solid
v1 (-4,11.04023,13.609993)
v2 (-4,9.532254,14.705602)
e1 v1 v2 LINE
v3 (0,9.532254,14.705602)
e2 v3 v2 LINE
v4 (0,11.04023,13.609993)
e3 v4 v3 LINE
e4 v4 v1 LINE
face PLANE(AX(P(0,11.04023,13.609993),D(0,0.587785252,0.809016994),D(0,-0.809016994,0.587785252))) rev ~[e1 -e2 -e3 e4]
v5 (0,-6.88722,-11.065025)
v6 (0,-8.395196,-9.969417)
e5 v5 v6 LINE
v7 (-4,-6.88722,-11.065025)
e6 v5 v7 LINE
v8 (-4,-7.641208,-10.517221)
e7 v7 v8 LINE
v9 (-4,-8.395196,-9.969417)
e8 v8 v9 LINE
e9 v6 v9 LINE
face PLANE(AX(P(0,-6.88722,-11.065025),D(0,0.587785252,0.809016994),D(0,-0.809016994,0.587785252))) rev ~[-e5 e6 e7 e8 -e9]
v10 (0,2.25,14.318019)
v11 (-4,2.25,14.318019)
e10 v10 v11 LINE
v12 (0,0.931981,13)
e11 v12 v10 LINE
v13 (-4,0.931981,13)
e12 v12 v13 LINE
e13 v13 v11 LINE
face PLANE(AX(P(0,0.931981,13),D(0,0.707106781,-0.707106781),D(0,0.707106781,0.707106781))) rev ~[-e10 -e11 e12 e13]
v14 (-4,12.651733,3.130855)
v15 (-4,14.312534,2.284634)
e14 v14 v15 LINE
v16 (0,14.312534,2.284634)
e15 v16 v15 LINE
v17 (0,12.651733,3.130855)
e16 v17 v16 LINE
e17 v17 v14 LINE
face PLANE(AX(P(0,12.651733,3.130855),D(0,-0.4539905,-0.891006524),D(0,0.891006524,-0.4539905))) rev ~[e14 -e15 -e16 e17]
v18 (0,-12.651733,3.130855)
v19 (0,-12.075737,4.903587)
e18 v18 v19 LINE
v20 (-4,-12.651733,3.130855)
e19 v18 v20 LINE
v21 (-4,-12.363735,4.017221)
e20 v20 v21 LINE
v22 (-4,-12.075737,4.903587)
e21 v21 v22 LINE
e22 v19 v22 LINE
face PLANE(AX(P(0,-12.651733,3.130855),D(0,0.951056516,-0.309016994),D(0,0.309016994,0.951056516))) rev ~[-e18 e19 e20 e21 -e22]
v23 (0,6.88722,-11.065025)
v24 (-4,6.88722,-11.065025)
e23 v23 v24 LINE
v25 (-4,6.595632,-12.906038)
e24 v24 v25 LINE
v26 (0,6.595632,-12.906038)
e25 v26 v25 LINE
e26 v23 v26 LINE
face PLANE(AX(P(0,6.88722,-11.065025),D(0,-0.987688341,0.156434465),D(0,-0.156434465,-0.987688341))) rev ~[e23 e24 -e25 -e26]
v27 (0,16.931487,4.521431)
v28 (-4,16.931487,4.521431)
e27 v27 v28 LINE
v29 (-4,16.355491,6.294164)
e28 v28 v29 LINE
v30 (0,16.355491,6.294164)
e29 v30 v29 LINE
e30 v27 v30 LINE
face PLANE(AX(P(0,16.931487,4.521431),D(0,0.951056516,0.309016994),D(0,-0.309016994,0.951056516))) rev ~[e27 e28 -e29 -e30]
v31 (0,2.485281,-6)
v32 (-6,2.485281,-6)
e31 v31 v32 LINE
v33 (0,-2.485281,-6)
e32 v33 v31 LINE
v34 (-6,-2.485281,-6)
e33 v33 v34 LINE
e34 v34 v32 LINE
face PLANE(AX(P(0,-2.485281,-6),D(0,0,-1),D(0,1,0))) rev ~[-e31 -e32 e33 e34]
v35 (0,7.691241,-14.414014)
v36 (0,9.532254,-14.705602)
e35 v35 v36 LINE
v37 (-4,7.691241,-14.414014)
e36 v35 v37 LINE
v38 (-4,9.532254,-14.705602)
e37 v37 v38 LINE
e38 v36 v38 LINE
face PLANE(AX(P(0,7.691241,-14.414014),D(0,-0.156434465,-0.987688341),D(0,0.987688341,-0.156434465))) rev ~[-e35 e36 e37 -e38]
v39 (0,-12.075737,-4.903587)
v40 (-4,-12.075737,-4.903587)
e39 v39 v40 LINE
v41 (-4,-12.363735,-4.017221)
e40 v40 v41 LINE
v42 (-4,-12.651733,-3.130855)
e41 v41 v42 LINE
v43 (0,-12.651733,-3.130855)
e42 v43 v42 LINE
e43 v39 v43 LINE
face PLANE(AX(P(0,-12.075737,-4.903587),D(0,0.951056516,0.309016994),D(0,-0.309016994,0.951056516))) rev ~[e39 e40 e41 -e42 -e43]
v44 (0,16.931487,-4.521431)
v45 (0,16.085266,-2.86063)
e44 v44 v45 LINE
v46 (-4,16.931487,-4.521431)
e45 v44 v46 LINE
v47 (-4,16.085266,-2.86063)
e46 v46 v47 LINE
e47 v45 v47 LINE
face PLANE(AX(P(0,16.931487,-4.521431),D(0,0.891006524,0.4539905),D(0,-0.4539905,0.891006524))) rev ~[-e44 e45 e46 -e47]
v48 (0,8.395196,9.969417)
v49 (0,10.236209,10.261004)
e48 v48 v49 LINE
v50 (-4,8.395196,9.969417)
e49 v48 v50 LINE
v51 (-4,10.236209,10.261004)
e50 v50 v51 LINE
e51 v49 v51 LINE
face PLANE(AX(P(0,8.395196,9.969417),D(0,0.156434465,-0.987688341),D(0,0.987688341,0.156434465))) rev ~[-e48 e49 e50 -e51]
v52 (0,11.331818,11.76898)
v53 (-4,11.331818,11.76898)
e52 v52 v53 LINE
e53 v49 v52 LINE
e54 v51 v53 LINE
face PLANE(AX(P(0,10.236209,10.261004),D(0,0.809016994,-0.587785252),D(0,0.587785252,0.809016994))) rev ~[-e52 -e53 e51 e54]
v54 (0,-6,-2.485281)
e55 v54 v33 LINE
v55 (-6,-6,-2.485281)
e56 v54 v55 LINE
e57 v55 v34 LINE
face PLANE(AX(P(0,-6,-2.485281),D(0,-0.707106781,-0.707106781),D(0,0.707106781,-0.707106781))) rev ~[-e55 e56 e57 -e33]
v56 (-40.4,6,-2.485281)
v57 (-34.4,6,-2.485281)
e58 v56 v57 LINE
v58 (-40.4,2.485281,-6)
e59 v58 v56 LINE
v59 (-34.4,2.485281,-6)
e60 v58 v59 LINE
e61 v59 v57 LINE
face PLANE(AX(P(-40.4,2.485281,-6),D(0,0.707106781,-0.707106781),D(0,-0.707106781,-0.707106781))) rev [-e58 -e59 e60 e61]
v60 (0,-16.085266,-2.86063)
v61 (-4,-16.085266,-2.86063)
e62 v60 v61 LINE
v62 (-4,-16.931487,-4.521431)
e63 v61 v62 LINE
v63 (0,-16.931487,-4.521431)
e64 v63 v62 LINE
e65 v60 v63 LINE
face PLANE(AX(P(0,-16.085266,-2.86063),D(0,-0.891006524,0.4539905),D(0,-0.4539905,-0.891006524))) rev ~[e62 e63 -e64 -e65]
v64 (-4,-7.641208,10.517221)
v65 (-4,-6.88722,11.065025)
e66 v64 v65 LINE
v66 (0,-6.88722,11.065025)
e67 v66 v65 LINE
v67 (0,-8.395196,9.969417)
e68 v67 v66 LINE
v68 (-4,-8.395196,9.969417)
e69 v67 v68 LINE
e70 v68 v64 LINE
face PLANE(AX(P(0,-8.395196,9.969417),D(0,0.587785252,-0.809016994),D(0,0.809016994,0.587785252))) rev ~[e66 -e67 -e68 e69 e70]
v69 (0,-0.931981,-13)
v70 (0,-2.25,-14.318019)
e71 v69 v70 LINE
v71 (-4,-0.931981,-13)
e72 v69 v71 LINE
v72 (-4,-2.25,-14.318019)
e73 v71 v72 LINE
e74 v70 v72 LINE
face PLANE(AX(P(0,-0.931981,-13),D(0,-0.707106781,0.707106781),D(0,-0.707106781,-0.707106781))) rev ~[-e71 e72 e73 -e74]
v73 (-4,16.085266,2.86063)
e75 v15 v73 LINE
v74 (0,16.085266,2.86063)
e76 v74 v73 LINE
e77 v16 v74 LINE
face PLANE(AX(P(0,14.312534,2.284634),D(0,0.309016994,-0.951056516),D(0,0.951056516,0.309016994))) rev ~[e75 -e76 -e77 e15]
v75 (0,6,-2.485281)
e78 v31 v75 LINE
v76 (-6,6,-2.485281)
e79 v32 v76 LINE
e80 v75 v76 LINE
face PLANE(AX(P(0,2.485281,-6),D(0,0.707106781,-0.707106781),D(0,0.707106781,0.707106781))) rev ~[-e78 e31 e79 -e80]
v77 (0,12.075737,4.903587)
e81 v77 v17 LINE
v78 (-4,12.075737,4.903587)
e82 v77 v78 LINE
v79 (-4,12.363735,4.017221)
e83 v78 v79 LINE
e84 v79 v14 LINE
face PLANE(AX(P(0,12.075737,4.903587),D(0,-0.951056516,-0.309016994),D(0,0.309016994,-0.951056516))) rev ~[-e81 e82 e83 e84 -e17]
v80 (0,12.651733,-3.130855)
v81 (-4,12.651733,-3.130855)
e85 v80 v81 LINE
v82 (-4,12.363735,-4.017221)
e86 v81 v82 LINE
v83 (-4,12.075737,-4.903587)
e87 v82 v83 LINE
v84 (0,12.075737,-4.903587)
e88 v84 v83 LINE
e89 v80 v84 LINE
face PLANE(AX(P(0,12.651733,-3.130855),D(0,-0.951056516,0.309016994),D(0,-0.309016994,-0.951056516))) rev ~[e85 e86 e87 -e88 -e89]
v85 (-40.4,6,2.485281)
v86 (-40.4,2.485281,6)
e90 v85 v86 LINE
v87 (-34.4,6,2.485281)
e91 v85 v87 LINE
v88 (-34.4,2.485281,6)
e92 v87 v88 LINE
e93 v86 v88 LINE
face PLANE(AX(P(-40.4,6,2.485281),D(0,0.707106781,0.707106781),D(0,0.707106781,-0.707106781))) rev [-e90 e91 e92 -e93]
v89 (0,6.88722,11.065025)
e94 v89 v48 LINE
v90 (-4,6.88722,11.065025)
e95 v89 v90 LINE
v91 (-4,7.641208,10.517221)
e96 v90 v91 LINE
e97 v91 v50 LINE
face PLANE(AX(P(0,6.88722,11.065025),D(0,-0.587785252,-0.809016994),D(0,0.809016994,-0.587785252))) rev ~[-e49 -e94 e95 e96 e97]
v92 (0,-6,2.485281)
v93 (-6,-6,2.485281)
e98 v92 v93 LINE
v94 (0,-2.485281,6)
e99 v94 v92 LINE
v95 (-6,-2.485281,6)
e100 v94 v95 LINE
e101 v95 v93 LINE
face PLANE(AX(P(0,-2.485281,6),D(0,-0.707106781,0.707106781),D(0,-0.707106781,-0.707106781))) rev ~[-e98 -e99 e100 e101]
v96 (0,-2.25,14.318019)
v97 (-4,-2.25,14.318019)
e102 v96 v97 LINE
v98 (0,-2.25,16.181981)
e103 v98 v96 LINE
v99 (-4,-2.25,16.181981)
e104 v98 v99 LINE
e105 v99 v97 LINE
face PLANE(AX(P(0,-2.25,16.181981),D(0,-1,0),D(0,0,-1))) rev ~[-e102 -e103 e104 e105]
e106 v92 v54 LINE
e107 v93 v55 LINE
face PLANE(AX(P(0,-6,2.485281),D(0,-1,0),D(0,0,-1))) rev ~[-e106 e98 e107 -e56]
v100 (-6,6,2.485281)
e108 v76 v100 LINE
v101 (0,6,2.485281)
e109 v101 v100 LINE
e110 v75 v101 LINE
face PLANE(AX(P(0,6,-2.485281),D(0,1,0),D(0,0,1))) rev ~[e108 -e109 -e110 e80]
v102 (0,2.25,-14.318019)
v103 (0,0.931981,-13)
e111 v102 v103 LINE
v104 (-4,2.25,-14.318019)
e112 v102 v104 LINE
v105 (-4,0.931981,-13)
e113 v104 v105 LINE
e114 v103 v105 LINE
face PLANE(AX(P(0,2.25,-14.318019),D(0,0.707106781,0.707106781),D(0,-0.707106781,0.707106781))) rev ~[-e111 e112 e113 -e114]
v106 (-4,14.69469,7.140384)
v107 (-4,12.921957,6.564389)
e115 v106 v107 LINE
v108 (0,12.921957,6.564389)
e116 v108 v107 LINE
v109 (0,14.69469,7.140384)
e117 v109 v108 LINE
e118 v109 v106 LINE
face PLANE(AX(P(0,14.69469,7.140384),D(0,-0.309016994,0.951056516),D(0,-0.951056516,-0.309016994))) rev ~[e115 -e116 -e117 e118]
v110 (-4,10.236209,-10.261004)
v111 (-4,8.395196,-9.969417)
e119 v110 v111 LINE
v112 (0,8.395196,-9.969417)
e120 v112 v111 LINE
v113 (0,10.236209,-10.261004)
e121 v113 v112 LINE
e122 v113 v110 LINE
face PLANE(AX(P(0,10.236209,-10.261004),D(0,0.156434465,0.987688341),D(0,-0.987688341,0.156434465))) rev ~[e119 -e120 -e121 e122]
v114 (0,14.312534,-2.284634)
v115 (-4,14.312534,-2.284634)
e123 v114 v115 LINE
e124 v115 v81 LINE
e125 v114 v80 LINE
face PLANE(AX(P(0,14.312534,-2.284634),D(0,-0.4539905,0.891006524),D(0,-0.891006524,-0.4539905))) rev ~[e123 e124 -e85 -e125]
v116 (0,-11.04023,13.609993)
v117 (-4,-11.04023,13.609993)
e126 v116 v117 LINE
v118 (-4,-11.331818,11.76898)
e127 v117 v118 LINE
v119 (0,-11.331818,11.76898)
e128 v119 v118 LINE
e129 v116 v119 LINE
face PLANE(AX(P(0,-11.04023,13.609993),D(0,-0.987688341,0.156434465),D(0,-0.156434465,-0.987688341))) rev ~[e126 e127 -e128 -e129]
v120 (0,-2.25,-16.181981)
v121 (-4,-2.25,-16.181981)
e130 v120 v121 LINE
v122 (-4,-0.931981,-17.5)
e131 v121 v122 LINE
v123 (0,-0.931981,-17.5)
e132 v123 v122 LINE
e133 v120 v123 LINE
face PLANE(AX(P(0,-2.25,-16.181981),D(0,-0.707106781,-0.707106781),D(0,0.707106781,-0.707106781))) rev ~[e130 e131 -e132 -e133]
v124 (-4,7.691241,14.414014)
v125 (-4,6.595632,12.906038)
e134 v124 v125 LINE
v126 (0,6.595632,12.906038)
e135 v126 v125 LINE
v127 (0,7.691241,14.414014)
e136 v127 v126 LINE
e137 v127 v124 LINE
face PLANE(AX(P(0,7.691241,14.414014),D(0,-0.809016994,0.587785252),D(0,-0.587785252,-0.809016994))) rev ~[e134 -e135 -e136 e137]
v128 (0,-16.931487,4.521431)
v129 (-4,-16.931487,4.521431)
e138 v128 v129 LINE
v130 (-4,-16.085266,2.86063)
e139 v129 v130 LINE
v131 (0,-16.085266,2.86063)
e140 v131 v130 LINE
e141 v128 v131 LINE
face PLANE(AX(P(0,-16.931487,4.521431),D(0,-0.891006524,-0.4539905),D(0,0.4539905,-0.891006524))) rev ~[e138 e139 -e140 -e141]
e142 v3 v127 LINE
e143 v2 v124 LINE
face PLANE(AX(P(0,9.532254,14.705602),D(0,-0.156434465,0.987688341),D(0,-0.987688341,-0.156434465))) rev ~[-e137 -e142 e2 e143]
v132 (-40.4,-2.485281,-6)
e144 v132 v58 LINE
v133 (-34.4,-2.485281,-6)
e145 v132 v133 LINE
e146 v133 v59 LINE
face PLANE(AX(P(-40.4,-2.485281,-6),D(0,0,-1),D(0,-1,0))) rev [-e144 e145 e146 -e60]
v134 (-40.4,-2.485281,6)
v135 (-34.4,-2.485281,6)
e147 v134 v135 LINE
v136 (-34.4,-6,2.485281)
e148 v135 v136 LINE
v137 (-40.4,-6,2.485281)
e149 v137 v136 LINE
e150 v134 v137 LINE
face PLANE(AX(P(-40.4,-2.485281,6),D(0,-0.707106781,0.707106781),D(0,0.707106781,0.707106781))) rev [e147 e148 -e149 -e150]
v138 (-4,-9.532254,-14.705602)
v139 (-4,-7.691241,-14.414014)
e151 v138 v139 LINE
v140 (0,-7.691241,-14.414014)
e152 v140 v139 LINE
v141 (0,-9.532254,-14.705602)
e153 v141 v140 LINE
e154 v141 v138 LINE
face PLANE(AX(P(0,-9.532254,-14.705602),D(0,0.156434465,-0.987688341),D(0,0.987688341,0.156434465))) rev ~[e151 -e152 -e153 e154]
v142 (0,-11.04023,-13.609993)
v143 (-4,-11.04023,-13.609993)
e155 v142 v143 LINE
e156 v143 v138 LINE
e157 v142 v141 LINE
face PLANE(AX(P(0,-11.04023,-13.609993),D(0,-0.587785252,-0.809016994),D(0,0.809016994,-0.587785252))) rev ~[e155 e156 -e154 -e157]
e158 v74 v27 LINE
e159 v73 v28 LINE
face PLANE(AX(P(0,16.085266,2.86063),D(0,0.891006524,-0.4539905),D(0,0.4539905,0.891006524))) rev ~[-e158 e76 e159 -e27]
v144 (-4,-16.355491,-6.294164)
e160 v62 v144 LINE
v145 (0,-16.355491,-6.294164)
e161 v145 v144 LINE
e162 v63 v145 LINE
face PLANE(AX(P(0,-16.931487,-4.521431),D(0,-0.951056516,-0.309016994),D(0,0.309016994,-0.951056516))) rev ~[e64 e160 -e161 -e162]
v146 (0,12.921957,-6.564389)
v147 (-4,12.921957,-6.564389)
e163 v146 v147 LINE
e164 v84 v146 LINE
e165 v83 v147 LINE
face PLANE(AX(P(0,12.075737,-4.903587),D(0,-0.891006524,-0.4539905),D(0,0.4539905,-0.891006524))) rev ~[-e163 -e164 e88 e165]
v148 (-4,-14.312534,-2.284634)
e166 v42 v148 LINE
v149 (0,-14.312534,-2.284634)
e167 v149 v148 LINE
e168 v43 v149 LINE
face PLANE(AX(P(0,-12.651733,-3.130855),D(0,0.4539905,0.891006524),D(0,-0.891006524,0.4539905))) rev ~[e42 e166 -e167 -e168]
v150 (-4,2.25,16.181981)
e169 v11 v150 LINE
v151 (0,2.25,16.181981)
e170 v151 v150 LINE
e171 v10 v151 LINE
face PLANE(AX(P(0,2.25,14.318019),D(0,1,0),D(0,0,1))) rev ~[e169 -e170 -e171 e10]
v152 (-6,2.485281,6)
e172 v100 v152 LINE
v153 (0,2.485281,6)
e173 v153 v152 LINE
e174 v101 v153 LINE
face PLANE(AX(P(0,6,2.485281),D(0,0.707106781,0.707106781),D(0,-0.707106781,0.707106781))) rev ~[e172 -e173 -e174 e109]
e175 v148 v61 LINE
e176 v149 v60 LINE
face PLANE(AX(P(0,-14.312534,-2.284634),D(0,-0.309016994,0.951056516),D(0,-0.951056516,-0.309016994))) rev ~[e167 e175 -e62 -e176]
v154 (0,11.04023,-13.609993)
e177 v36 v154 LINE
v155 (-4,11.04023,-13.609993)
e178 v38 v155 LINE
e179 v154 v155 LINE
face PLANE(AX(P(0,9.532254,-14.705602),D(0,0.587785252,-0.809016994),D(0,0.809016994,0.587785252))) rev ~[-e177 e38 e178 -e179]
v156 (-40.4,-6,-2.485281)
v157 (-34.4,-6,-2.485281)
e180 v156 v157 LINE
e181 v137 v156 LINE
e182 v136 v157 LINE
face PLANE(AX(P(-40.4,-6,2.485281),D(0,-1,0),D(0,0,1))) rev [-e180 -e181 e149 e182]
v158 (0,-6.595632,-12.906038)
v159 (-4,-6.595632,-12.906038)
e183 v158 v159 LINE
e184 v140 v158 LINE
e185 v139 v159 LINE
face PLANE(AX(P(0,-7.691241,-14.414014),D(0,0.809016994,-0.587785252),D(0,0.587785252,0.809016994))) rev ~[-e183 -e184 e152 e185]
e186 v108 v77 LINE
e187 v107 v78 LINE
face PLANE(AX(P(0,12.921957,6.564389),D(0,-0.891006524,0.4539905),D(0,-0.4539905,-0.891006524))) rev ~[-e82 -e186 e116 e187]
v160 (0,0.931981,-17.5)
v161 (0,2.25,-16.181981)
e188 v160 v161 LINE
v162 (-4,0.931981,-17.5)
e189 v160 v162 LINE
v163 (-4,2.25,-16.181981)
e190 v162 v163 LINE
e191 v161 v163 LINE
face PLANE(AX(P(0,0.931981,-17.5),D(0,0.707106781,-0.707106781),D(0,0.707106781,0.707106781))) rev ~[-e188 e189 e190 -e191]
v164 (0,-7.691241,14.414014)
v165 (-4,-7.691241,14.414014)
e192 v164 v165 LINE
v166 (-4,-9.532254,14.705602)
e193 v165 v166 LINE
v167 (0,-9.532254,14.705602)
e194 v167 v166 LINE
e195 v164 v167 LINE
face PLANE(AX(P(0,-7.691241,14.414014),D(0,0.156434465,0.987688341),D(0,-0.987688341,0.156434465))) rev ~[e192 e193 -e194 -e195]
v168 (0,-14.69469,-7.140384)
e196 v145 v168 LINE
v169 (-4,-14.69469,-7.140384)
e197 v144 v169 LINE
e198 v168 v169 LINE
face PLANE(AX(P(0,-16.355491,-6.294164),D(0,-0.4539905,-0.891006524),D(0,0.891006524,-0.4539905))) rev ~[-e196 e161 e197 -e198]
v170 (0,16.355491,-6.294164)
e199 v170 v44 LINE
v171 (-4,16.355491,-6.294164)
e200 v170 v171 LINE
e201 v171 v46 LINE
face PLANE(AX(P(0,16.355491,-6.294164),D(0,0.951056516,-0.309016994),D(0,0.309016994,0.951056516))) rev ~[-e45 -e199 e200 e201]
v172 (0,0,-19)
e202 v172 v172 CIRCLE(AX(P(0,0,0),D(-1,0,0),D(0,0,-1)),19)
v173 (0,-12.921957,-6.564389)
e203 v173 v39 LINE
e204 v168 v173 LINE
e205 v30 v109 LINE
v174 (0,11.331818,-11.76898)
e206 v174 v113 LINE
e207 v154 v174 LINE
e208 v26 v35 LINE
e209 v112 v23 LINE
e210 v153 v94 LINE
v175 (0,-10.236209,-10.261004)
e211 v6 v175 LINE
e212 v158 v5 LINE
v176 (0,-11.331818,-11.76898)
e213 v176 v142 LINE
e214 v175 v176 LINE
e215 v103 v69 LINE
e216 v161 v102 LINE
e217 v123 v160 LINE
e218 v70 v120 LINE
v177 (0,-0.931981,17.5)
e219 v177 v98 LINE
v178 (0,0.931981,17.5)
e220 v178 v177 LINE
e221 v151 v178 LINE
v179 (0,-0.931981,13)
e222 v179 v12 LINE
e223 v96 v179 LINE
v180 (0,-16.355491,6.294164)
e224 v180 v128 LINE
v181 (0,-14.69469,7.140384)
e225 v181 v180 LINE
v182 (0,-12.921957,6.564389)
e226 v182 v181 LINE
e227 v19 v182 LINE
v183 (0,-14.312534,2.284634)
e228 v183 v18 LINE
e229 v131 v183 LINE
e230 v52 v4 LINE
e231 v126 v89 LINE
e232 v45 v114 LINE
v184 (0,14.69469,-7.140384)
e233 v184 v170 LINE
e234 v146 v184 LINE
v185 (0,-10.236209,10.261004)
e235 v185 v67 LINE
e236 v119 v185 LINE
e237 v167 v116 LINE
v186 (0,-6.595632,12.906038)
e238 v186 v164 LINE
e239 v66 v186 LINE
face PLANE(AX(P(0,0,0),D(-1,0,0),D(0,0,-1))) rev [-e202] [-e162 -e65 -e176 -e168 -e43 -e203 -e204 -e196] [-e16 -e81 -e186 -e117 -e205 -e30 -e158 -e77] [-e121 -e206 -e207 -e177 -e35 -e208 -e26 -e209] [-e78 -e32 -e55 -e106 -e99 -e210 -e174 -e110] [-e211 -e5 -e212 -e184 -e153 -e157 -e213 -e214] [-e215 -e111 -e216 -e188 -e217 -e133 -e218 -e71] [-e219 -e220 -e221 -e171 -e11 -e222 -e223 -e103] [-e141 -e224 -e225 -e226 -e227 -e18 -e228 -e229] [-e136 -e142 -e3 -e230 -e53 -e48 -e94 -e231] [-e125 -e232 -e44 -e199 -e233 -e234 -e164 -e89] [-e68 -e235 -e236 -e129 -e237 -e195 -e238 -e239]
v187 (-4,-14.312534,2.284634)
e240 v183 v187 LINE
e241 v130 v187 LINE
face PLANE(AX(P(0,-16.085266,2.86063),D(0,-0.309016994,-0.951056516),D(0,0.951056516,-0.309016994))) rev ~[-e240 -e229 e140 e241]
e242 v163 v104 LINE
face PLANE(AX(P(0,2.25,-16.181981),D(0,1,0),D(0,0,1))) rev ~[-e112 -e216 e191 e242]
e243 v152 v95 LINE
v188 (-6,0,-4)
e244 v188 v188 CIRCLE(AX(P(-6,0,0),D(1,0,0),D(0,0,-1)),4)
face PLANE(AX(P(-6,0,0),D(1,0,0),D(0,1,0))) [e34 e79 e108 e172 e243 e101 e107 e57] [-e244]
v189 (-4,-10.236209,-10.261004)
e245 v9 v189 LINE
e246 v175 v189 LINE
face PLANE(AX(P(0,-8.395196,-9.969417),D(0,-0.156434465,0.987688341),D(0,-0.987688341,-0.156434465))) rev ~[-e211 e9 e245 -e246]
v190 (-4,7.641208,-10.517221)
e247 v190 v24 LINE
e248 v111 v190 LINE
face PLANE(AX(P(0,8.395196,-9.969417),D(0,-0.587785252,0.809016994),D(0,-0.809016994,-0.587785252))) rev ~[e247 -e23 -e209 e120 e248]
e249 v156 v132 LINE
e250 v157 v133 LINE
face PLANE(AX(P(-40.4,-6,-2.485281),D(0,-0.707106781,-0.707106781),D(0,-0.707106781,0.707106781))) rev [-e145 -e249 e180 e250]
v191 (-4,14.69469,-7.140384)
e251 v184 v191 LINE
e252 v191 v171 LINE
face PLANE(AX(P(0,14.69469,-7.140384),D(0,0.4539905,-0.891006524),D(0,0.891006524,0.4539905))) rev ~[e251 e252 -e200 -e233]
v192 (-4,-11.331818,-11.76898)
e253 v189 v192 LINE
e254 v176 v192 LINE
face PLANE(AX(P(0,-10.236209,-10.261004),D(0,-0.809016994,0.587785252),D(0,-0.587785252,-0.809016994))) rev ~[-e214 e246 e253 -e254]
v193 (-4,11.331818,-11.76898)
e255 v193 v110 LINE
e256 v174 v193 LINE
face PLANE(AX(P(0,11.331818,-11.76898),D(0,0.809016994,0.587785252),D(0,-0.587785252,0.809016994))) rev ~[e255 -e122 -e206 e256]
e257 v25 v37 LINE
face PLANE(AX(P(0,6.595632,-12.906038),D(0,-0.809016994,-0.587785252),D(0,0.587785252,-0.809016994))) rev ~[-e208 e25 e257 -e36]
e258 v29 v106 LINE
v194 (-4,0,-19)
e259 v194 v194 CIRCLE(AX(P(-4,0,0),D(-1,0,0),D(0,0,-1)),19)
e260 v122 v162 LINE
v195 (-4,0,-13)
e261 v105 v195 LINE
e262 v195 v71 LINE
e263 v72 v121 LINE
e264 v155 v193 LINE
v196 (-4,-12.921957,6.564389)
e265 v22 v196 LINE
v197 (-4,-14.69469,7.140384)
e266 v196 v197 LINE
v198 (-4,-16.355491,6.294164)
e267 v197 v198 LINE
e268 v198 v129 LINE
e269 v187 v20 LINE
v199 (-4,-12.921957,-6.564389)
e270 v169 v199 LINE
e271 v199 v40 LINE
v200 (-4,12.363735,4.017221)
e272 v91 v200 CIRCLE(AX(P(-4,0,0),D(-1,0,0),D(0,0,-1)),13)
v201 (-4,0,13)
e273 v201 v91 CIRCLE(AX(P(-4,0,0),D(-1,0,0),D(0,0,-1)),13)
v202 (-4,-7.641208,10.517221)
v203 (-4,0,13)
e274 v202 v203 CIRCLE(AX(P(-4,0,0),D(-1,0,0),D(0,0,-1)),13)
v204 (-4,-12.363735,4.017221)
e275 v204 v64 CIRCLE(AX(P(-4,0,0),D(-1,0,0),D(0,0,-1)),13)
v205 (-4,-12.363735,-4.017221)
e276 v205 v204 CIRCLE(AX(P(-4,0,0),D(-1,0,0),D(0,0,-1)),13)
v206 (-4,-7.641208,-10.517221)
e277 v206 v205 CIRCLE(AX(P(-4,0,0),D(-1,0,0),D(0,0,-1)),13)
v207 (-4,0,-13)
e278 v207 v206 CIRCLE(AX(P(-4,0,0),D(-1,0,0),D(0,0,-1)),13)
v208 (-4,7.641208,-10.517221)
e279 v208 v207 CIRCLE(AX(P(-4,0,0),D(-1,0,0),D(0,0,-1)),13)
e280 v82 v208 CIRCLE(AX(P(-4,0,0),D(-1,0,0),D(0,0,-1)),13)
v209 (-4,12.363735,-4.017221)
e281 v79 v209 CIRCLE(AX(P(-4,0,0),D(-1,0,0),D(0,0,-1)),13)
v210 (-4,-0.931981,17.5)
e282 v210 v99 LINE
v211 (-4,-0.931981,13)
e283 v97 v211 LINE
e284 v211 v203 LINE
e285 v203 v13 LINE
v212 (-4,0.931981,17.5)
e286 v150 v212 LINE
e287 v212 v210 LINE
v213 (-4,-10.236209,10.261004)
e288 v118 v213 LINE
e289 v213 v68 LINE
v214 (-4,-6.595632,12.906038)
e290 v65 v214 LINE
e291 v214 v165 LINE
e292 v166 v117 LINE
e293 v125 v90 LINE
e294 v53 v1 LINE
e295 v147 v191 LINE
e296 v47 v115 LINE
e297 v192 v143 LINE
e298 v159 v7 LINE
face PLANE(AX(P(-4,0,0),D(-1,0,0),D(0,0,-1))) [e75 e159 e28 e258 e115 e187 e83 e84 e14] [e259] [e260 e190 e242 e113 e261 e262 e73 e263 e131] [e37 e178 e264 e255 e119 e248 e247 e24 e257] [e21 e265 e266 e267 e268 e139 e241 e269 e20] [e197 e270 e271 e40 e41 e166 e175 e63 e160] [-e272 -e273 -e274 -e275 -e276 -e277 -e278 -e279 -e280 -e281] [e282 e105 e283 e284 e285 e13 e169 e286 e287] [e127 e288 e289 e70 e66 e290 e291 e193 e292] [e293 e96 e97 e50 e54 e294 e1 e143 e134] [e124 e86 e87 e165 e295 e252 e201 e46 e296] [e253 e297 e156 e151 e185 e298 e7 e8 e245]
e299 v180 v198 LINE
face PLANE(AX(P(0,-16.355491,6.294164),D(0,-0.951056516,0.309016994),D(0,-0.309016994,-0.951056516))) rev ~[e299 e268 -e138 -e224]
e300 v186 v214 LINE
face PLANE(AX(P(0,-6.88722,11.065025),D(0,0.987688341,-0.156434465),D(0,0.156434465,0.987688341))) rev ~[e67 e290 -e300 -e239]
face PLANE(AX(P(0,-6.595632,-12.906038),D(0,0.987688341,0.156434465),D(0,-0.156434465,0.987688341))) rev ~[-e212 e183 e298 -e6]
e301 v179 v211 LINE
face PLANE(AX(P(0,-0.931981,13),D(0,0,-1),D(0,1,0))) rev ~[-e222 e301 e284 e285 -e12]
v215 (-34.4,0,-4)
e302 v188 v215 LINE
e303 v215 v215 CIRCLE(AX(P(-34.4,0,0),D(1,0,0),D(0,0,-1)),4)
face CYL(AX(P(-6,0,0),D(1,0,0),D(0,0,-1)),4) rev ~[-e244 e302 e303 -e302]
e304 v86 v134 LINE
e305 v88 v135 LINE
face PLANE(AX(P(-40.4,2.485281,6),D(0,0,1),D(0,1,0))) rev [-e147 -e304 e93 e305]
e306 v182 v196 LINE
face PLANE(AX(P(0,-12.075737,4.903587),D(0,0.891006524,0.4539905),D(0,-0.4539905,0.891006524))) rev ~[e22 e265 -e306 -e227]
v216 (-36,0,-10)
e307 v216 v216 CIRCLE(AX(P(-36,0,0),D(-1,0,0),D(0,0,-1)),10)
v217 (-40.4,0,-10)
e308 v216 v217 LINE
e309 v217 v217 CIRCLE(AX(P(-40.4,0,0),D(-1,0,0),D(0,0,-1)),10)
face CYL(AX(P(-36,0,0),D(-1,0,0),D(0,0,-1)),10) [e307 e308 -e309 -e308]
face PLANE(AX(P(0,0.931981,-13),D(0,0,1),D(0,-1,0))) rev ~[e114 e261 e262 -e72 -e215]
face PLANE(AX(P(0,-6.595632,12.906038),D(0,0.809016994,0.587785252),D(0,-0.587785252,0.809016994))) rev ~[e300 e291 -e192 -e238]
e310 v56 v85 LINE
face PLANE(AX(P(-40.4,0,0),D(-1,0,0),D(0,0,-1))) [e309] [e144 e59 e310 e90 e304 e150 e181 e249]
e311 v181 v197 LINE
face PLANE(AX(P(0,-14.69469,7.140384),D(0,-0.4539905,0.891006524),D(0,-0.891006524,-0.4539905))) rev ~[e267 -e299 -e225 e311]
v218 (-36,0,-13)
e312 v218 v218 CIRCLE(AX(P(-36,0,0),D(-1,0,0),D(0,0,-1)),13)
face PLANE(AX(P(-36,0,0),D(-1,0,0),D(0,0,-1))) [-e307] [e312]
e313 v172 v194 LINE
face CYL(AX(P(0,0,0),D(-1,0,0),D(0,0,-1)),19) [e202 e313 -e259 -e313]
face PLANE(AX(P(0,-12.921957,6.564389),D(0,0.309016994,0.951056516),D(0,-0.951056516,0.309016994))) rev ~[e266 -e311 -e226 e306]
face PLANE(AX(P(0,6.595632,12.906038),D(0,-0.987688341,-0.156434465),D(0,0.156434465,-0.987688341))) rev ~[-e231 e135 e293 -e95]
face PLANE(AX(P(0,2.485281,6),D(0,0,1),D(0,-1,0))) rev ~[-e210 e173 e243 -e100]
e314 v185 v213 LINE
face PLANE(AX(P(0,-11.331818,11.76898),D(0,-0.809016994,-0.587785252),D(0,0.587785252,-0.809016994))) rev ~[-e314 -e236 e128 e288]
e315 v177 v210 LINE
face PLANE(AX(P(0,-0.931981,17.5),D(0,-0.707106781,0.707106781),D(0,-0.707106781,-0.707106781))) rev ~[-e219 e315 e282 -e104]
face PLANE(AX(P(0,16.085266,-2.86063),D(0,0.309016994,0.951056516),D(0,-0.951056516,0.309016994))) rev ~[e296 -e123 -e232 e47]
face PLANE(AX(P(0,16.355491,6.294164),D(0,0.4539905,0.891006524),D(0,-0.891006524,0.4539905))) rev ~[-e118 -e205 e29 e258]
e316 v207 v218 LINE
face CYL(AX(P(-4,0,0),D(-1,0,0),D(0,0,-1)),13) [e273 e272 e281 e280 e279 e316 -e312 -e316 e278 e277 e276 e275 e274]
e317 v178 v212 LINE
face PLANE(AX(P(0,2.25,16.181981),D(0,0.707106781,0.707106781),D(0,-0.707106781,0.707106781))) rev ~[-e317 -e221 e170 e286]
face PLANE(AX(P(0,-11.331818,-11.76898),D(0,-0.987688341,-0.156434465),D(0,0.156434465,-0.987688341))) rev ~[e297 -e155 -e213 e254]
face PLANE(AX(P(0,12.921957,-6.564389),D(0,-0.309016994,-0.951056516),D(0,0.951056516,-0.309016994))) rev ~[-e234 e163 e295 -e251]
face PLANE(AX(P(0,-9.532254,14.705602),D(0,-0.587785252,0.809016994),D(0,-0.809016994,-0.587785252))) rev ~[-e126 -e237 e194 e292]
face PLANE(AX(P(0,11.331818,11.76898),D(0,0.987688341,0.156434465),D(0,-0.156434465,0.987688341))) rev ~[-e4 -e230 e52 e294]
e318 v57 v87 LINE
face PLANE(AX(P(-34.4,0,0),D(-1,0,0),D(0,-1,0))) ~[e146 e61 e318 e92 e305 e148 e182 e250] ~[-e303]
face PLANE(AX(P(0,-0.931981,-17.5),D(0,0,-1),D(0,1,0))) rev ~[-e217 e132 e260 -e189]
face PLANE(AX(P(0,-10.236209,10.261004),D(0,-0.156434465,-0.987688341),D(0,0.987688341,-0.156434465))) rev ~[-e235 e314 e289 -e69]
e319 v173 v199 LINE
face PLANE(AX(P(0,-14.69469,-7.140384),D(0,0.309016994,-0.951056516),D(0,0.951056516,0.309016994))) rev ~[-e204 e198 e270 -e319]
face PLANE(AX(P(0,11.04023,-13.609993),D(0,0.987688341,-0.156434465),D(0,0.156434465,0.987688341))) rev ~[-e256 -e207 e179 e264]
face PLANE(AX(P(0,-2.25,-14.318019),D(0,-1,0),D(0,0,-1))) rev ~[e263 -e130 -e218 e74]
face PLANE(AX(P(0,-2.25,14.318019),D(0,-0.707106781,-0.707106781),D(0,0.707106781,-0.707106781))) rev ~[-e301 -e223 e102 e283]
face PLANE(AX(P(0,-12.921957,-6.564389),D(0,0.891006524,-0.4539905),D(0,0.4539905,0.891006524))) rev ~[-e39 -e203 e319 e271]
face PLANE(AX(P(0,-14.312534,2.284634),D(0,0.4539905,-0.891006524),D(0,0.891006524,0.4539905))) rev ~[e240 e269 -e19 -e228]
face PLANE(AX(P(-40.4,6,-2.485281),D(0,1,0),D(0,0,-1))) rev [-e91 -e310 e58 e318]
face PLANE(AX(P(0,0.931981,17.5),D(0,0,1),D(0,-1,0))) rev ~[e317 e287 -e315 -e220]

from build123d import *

# Parameters (mm, degrees)
CORTAR_EXTRUIR1_DEPTH = 6
CORTAR_EXTRUIR2_DEPTH = 4
MATRIZC1_COUNT        = 10
CROQUIS4_R            = 4
CORTAR_EXTRUIR3_DEPTH = 44.650429551


with BuildPart() as part:
    # Croquis1 → Revolución1 (revolve)
    with BuildSketch(Plane(origin=(0, 0, 0), x_dir=(0, 1, 0), z_dir=(0, 0, 1)), mode=Mode.PRIVATE) as revoluci_n1_sk:
        Polygon((0, 0), (19, 0), (19, 4), (13, 4), (13, 36), (10, 36), (10, 40.4), (0, 40.4), align=None)
    revolve(revoluci_n1_sk.sketch.rotate(Axis((0, 0, 0), (-1, 0, 0)), 90), axis=Axis((0, 0, 0), (-1, 0, 0)))

    # Croquis2 → Cortar-Extruir1 (cut)
    with BuildSketch(Plane.YZ):
        Polygon((2.485281374, -6), (6, -2.485281374), (6, 2.485281374), (2.485281374, 6), (-2.485281374, 6), (-6, 2.485281374), (-6, -2.485281374), (-2.485281374, -6), align=None)
    cortar_extruir1 = extrude(amount=-CORTAR_EXTRUIR1_DEPTH, mode=Mode.SUBTRACT)

    # Simetría1: Cortar-Extruir1 across plane
    add(cortar_extruir1.mirror(Plane(origin=(-20.2, 0, 0), x_dir=(0, 0, 1), z_dir=(1, 0, 0))), mode=Mode.SUBTRACT)

    # Croquis3 → Cortar-Extruir2 (cut)
    with BuildSketch(Plane.YZ):
        Polygon((2.25, 14.318019485), (2.25, 16.181980515), (0.931980515, 17.5), (-0.931980515, 17.5), (-2.25, 16.181980515), (-2.25, 14.318019485), (-0.931980515, 13), (0.931980515, 13), align=None)
    cortar_extruir2 = extrude(amount=-CORTAR_EXTRUIR2_DEPTH, mode=Mode.SUBTRACT)

    # MatrizC1: Cortar-Extruir2 ×10 about axis
    matrizc1_axis = Axis((0, 0, 0), (1, 0, 0))
    for i in range(1, MATRIZC1_COUNT):
        add(cortar_extruir2.rotate(matrizc1_axis, i * 360 / MATRIZC1_COUNT), mode=Mode.SUBTRACT)

    # Croquis4 → Cortar-Extruir3 (cut, through all)
    with BuildSketch(Plane.YZ.offset(-6)):
        with Locations(Location((0, 0, 0), (0, 0, 270))):
            Circle(CROQUIS4_R)
    extrude(amount=-CORTAR_EXTRUIR3_DEPTH, mode=Mode.SUBTRACT)


solid = part.part
